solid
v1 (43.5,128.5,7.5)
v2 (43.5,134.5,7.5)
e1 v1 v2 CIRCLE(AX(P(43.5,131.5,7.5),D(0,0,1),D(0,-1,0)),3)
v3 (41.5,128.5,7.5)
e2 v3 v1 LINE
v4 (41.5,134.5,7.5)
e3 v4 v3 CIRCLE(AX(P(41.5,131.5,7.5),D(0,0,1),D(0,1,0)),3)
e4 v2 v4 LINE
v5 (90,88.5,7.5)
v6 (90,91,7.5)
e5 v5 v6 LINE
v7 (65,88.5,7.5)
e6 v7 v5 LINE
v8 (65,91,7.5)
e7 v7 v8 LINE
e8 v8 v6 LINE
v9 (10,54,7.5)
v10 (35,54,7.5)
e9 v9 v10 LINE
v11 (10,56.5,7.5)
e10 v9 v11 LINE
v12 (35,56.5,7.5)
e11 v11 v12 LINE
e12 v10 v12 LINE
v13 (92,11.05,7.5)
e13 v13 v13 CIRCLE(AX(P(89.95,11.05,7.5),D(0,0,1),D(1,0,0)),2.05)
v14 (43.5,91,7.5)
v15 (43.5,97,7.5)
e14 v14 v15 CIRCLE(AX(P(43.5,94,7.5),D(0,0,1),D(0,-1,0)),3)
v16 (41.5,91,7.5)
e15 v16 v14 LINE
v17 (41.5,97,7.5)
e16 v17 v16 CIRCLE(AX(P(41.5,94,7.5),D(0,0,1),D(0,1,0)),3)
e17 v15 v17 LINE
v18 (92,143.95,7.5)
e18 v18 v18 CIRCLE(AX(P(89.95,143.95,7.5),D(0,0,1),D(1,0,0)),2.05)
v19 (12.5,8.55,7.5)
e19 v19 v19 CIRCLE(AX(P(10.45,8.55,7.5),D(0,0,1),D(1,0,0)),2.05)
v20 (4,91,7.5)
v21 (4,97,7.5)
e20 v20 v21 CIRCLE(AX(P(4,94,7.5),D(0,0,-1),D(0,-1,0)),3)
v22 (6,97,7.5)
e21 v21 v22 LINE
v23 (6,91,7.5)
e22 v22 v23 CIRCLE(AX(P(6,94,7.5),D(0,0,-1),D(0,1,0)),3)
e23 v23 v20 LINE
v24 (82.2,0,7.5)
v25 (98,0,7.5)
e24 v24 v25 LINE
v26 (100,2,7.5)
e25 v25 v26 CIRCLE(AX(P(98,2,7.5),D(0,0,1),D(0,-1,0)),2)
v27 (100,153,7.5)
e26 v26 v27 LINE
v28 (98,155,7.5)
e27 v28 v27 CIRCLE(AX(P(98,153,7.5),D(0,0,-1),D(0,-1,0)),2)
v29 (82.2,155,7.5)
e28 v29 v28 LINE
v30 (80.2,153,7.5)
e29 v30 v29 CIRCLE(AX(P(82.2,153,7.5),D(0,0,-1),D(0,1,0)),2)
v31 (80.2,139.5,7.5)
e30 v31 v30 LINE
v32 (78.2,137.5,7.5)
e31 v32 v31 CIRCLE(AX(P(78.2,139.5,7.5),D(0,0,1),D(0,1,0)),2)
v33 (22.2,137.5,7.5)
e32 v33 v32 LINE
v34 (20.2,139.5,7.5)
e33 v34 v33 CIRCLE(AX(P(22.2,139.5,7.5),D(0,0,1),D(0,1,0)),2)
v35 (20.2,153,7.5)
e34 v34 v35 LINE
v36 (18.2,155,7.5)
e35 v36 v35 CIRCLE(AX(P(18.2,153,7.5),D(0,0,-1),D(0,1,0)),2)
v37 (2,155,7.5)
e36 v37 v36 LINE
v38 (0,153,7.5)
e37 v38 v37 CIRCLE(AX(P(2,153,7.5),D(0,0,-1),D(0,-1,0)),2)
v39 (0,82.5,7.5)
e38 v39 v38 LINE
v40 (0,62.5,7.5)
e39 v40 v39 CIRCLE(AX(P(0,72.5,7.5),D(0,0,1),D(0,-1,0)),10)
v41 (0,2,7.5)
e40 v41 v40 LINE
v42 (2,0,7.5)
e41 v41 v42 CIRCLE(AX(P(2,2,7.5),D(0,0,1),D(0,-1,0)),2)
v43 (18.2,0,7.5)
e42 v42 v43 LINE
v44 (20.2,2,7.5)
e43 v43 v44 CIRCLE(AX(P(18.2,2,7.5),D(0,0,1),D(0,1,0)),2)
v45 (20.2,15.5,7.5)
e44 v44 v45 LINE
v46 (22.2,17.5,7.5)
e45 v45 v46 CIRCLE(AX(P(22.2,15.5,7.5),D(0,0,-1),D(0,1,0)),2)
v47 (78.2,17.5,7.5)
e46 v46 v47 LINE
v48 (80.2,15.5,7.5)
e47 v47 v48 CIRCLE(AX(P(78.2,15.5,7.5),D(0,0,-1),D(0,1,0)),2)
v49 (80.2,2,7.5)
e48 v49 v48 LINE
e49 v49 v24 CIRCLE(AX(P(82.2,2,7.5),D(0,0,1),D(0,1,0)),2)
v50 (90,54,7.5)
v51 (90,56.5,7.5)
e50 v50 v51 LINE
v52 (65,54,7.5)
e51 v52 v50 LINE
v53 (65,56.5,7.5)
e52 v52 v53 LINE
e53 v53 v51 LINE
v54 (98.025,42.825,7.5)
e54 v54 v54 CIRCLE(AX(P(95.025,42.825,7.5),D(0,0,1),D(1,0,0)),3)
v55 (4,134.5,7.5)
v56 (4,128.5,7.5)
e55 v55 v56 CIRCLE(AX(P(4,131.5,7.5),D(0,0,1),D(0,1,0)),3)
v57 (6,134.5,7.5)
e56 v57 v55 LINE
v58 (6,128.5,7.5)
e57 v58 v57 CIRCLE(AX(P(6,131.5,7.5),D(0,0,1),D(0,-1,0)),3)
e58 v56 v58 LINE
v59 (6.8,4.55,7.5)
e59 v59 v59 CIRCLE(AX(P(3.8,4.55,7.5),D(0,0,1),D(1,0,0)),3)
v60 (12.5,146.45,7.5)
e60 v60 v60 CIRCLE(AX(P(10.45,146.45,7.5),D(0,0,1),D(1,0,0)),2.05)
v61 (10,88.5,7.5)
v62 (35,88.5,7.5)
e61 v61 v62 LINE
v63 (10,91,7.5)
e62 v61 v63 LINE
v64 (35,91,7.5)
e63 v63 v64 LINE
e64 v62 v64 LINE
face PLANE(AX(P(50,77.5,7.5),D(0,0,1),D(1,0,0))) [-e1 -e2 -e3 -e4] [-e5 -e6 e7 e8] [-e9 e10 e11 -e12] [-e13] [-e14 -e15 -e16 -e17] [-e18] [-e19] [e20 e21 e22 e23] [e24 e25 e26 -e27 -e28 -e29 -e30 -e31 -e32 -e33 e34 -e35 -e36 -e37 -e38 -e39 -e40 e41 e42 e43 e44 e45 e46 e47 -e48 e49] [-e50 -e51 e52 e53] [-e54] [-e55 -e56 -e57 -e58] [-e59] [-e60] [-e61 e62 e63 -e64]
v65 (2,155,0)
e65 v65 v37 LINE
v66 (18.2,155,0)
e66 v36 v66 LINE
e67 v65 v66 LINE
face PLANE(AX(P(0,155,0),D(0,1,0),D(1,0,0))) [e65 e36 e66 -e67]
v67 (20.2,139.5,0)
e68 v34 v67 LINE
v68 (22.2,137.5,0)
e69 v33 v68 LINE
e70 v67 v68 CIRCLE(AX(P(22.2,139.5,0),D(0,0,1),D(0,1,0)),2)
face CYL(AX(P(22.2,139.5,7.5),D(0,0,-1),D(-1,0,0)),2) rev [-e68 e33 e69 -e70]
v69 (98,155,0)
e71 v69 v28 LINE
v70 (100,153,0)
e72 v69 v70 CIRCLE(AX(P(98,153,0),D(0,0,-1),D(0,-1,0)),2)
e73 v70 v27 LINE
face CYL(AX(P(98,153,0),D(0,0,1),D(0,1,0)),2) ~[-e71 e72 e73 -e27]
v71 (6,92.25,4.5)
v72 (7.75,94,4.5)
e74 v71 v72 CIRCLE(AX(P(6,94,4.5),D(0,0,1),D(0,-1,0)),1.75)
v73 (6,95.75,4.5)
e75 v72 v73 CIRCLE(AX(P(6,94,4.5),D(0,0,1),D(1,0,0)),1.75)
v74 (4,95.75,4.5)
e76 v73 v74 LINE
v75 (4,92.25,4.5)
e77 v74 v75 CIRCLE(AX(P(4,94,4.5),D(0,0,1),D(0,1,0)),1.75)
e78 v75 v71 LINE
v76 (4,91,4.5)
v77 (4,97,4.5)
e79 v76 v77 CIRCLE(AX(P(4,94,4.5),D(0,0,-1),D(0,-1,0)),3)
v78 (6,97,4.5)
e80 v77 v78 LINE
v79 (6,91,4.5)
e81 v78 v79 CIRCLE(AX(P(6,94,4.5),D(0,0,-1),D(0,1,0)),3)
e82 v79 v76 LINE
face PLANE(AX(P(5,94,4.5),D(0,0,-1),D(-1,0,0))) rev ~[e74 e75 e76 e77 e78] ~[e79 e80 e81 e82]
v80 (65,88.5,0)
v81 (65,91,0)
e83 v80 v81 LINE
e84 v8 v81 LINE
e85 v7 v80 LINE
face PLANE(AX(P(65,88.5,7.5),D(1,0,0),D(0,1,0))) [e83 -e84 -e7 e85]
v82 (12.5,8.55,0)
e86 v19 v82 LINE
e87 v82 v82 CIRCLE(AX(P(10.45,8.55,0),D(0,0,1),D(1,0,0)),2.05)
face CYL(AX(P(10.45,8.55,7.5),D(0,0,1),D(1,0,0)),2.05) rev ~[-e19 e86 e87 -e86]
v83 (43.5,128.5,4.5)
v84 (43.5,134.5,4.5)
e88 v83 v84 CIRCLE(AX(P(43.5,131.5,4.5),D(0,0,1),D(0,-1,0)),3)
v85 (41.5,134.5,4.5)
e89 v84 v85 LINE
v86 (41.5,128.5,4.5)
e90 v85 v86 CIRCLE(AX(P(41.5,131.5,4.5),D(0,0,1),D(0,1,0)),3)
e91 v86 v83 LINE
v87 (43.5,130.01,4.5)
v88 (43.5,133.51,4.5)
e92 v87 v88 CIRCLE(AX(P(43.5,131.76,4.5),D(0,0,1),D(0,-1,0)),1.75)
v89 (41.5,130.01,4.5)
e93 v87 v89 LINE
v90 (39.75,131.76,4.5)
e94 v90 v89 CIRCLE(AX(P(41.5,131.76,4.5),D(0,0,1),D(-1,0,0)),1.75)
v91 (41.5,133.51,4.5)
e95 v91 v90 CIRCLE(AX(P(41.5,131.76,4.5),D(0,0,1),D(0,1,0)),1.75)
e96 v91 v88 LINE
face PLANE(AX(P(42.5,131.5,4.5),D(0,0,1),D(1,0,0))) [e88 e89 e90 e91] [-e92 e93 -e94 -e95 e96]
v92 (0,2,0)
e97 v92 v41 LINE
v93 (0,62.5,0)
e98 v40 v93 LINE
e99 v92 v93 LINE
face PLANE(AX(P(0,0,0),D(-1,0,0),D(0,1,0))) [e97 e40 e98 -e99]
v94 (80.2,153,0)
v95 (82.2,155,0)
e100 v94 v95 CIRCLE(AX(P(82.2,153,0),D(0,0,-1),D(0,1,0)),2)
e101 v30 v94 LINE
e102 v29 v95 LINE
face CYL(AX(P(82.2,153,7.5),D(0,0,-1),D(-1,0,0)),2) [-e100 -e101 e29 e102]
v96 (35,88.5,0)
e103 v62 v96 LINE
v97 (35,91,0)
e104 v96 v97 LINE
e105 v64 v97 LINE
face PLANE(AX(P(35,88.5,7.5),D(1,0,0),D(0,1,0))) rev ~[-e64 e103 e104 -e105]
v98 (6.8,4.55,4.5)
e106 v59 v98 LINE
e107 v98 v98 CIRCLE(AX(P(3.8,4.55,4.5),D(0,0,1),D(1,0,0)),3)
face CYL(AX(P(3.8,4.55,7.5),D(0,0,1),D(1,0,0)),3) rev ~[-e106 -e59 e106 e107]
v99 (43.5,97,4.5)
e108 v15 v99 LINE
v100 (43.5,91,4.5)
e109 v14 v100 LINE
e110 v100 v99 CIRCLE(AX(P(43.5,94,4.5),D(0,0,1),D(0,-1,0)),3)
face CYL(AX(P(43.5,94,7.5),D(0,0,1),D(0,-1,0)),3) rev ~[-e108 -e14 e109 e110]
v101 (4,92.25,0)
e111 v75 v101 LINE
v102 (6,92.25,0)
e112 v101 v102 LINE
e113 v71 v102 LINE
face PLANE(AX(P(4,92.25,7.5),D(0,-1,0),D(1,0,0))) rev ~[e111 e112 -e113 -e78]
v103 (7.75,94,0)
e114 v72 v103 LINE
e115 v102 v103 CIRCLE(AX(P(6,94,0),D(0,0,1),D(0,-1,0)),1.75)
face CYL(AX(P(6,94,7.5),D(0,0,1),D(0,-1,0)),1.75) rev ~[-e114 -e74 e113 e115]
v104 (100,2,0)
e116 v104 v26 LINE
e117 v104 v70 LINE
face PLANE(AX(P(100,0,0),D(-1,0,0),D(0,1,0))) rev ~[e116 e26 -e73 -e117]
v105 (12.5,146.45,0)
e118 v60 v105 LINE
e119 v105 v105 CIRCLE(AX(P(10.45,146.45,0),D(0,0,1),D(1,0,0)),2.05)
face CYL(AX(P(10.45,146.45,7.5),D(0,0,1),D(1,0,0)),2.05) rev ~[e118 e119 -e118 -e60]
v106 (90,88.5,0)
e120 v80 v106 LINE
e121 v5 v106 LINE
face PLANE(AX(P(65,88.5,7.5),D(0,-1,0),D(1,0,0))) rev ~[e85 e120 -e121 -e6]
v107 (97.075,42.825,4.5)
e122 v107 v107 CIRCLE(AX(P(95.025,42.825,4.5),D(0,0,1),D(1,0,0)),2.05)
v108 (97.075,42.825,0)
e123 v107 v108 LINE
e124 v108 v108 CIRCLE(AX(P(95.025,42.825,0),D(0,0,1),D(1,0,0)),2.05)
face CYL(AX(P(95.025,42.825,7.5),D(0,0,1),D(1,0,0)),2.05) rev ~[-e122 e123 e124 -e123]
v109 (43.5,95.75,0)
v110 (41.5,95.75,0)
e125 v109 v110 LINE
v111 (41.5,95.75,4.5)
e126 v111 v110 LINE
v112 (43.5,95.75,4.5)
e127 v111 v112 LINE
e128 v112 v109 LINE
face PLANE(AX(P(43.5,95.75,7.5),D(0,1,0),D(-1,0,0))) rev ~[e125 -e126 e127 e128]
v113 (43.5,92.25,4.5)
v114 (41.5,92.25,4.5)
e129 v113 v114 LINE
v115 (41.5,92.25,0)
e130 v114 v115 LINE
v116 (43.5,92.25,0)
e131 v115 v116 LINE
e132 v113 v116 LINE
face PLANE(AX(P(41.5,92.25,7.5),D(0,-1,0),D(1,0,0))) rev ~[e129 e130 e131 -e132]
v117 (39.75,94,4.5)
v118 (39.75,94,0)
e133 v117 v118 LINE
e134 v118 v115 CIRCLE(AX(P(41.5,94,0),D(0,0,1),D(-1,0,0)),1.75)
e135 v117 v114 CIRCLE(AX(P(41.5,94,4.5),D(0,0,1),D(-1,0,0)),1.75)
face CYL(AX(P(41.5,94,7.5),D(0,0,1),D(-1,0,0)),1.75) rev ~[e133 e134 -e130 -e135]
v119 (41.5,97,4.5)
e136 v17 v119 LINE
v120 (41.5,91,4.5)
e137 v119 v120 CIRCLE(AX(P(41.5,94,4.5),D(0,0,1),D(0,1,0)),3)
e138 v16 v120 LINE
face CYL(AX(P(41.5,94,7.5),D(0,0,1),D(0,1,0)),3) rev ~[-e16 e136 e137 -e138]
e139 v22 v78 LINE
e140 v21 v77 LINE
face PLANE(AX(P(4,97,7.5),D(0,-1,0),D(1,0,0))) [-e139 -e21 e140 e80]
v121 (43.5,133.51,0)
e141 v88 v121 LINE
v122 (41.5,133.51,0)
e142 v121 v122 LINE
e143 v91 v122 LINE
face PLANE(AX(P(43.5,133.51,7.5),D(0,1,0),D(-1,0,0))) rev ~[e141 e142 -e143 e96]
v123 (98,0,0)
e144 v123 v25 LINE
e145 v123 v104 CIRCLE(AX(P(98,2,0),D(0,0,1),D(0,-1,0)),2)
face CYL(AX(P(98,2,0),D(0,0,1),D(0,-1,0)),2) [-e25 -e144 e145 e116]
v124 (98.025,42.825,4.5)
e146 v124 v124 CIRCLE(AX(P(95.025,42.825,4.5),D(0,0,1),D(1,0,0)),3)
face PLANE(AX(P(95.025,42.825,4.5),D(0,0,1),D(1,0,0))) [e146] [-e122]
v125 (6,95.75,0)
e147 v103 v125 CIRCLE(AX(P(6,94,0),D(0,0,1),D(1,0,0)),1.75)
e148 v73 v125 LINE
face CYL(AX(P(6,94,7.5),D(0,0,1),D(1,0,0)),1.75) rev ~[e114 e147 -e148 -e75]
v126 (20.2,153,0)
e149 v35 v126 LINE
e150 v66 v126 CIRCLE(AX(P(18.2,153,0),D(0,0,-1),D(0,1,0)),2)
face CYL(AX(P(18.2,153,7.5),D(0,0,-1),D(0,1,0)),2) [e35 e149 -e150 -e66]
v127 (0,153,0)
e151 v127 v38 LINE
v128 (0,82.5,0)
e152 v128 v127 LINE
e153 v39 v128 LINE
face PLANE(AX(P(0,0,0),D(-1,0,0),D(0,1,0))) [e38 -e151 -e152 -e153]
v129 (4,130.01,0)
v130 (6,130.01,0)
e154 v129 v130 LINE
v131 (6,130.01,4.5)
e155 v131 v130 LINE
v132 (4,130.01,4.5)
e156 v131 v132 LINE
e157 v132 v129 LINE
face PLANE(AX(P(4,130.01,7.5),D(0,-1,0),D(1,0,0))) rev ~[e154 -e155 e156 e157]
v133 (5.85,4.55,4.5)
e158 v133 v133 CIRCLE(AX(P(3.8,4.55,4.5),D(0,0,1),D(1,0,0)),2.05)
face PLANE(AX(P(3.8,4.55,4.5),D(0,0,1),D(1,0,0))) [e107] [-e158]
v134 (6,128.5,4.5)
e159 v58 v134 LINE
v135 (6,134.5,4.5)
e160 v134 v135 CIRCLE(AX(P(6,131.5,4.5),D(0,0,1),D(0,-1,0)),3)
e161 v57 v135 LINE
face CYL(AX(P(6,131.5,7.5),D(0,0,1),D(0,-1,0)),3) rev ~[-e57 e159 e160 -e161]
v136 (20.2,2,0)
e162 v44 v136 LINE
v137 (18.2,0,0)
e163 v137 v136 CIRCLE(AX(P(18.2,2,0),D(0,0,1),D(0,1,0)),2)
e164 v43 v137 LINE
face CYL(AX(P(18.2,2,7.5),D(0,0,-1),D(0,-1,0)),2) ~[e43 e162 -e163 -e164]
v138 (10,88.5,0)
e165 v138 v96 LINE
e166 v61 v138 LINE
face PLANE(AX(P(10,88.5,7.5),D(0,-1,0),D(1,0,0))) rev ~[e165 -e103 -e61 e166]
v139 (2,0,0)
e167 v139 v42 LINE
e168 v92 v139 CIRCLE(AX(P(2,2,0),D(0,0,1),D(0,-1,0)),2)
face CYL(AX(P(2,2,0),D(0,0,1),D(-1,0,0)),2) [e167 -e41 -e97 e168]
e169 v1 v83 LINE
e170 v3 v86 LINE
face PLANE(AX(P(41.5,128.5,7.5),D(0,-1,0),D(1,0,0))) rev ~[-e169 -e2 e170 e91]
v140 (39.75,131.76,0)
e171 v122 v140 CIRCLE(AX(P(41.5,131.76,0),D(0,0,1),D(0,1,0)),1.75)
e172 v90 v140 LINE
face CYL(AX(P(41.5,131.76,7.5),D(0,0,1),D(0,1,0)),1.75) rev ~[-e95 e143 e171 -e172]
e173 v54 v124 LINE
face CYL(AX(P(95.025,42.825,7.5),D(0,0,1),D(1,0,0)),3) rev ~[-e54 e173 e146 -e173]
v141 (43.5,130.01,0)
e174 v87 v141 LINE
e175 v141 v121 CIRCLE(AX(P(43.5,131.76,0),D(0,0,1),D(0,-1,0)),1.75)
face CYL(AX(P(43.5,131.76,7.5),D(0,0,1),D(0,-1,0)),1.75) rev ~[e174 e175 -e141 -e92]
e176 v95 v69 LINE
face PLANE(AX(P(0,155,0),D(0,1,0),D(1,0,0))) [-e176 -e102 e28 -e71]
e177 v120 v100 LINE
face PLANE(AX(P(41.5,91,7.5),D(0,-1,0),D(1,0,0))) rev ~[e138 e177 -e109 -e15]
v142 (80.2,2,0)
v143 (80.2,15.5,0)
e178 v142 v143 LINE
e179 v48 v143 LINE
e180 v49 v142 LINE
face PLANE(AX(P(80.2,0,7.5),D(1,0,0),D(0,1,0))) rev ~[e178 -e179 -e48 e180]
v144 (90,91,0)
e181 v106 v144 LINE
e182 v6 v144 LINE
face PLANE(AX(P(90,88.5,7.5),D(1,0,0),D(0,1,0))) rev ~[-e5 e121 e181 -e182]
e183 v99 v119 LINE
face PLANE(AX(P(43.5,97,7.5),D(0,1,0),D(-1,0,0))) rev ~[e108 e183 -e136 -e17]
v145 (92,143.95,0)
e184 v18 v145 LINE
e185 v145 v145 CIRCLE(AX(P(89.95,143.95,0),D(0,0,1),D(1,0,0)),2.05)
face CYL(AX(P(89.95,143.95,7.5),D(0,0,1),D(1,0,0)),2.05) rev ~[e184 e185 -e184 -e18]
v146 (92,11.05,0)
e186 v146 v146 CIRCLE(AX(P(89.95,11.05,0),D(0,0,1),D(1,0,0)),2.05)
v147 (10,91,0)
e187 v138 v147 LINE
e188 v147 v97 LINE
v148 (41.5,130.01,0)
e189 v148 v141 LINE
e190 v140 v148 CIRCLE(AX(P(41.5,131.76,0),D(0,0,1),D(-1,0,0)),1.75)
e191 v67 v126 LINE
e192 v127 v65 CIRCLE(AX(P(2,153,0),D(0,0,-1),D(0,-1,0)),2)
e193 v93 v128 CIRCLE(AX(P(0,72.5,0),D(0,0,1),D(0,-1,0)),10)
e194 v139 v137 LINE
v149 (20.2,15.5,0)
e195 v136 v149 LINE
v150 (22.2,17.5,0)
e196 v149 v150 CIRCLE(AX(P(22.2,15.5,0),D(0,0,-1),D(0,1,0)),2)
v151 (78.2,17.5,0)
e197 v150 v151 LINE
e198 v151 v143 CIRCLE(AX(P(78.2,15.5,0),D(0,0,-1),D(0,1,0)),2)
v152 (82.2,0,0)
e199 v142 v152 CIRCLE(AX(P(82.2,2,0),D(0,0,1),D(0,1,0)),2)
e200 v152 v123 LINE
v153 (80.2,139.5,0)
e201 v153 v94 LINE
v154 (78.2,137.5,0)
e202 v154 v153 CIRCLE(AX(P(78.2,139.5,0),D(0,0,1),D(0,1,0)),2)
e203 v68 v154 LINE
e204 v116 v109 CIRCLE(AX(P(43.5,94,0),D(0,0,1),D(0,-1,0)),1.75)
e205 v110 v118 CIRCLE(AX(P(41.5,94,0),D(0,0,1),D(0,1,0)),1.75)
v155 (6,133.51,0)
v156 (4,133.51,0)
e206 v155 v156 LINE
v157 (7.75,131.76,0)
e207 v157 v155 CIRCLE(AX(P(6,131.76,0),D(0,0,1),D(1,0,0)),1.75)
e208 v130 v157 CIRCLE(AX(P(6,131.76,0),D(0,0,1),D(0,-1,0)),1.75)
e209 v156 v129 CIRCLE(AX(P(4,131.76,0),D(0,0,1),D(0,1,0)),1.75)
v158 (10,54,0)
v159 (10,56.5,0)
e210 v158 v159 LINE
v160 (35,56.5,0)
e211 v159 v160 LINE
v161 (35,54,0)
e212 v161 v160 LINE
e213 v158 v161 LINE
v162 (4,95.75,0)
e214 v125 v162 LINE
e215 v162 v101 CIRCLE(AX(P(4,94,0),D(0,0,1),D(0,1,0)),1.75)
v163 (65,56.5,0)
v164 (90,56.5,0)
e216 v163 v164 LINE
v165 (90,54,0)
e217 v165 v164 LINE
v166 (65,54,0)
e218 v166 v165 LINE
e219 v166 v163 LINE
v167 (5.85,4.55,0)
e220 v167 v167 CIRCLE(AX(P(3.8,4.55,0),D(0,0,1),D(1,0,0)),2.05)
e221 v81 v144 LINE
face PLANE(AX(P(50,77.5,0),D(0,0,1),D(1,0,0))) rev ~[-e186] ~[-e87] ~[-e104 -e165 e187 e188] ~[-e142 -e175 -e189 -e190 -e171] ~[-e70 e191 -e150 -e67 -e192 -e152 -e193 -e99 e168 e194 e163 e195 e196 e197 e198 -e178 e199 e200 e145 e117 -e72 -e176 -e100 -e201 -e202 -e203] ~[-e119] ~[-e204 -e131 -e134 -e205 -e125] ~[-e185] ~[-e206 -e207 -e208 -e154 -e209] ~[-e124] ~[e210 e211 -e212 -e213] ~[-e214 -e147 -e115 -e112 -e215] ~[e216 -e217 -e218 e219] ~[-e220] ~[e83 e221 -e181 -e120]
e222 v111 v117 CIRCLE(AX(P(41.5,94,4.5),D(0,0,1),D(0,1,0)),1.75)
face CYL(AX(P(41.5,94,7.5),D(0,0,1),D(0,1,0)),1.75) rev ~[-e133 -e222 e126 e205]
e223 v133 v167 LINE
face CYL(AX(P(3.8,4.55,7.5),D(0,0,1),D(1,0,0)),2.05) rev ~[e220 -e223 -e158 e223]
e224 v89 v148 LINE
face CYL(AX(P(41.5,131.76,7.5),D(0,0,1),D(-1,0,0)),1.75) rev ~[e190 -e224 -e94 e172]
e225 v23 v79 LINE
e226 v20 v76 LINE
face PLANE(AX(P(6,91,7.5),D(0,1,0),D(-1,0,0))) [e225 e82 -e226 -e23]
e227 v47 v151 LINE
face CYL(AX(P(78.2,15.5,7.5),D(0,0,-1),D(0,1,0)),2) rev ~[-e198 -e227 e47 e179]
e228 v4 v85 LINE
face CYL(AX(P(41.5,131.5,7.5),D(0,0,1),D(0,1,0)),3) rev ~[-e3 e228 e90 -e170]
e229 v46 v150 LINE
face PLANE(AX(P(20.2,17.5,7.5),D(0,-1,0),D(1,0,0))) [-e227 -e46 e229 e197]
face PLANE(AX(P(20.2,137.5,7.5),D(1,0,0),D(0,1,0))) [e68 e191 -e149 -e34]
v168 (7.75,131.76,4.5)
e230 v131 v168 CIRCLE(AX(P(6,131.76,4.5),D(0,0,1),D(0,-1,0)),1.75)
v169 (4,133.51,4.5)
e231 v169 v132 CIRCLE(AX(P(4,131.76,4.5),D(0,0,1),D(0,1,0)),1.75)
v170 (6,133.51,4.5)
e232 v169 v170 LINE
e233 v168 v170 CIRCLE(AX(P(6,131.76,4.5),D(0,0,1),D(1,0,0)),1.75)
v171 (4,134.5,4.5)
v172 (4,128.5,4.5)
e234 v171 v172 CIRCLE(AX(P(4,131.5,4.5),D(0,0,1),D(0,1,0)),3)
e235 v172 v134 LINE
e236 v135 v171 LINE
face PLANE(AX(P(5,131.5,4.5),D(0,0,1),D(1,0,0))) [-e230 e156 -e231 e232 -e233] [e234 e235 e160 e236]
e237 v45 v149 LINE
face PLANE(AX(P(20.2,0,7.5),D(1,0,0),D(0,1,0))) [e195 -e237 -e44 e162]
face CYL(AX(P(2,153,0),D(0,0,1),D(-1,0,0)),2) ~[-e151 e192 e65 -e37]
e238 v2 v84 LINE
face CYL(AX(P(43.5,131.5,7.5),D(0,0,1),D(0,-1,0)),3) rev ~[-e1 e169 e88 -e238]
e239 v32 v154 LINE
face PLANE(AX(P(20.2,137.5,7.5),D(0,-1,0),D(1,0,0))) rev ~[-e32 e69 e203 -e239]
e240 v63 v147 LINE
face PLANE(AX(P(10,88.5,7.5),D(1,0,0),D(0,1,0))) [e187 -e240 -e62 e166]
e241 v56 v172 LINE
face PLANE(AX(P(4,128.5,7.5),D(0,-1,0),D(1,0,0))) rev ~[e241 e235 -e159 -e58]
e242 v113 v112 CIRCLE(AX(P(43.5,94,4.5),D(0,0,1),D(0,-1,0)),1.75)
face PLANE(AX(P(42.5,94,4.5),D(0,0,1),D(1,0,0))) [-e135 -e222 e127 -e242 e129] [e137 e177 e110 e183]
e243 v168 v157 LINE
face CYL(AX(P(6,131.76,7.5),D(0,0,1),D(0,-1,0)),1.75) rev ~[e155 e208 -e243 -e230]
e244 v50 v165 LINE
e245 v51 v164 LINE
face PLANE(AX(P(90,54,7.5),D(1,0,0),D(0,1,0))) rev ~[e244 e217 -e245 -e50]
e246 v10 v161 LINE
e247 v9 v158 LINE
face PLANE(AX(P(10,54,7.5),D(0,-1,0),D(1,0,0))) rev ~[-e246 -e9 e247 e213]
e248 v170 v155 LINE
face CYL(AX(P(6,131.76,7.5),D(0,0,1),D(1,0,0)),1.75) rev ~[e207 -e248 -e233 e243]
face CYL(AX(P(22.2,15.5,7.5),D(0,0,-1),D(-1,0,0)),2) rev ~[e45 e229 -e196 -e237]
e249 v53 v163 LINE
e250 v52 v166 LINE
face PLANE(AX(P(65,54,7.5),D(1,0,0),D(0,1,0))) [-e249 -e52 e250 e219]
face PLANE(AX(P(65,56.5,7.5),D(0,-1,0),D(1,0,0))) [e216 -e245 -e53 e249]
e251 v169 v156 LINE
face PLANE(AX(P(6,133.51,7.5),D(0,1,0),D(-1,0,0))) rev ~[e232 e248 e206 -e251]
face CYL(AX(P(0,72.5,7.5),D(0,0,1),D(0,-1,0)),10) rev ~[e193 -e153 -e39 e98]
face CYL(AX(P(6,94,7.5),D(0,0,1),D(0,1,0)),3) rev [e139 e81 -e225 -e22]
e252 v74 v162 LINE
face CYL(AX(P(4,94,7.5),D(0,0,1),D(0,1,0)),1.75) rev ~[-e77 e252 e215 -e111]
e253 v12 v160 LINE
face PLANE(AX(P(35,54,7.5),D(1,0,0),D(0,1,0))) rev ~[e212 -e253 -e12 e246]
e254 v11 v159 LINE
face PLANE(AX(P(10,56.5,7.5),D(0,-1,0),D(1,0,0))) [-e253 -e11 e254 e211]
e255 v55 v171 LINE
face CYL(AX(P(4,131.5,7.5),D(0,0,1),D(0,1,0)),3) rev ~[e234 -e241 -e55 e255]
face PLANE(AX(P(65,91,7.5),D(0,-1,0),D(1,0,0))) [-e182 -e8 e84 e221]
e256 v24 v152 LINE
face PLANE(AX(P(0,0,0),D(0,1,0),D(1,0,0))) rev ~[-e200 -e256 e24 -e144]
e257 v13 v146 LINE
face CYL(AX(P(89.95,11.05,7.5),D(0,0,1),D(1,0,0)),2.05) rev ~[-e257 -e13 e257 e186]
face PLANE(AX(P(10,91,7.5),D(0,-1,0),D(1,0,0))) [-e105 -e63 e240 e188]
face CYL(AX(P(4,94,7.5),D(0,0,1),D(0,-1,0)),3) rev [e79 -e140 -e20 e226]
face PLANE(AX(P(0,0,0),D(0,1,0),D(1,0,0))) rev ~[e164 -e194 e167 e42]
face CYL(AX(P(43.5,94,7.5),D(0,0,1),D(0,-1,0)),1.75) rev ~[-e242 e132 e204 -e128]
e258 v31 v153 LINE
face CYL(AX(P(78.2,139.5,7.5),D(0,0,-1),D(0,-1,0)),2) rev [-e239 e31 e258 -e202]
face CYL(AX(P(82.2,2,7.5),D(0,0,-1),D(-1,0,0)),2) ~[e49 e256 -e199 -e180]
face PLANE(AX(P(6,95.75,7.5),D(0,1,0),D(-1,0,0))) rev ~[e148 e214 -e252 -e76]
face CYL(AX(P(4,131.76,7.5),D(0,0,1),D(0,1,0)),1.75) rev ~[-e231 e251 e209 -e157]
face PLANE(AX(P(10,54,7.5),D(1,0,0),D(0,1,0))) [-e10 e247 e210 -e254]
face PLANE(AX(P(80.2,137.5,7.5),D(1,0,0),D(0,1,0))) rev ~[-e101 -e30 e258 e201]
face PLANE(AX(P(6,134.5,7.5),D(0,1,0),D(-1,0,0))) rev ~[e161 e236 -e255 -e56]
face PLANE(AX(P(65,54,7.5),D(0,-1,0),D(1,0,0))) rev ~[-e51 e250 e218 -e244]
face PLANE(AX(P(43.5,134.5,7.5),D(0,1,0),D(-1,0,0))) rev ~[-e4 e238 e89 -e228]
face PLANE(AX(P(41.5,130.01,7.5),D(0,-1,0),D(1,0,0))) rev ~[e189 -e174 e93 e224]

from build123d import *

# Parameters (mm, degrees)
SKETCH1_W                 = 100
SKETCH1_H                 = 155
BOSS_EXTRUDE1_DEPTH       = 7.5
SKETCH2_R                 = 2.05
SKETCH2_W                 = 60
SKETCH2_H                 = 17.5
HOLE_CUTOUTS_DEPTH        = 8.5
SKETCH3_W                 = 25
SKETCH3_H                 = 2.5
BATTERY_STRAP_HOLES_DEPTH = 8.5
H_BRIDGE_HOLES_DEPTH      = 7.5
FILLET1_R                 = 2
CAMERA_WIRE_HOLE_DEPTH    = 8.5
SKETCH10_R                = 2.05
CUT_EXTRUDE1_DEPTH        = 7.5
SKETCH11_R                = 3
CUT_EXTRUDE2_DEPTH        = 3


with BuildPart() as part:
    # Sketch1 → Boss-Extrude1 (new body)
    with BuildSketch(Plane.XY):
        with Locations((50, 77.5)):
            Rectangle(SKETCH1_W, SKETCH1_H)
    extrude(amount=BOSS_EXTRUDE1_DEPTH)

    # Sketch2 → Hole cutouts (cut, through all)
    with BuildSketch(Plane.XY.offset(7.5)):
        with Locations((10.45, 146.45)):
            Circle(SKETCH2_R)
        with Locations((89.95, 143.95)):
            Circle(SKETCH2_R)
        with Locations((89.95, 11.05)):
            Circle(SKETCH2_R)
        with Locations((10.45, 8.55)):
            Circle(SKETCH2_R)
        with Locations((50.2, 146.25)):
            Rectangle(SKETCH2_W, SKETCH2_H)
        with Locations((50.2, 8.75)):
            Rectangle(SKETCH2_W, SKETCH2_H)
    extrude(amount=-HOLE_CUTOUTS_DEPTH, mode=Mode.SUBTRACT)

    # Sketch3 → Battery strap holes (cut, through all)
    with BuildSketch(Plane.XY.offset(7.5)):
        with Locations((22.5, 89.75)):
            Rectangle(SKETCH3_W, SKETCH3_H)
        with Locations((77.5, 89.75)):
            Rectangle(SKETCH3_W, SKETCH3_H)
        with Locations((22.5, 55.25)):
            Rectangle(SKETCH3_W, SKETCH3_H)
        with Locations((77.5, 55.25)):
            Rectangle(SKETCH3_W, SKETCH3_H)
    extrude(amount=-BATTERY_STRAP_HOLES_DEPTH, mode=Mode.SUBTRACT)

    # Sketch4 → H-Bridge Holes (cut)
    with BuildSketch(Plane.XY.offset(7.5)):
        with BuildLine():
            Line((6, 133.51), (4, 133.51))
            ThreePointArc((4, 133.51), (2.25, 131.76), (4, 130.01))
            Line((4, 130.01), (5, 130.01))
            Line((5, 130.01), (5, 131.76))
            Line((5, 131.76), (7.75, 131.76))
            ThreePointArc((7.75, 131.76), (7.237436867, 132.997436867), (6, 133.51))
        make_face()
        with BuildLine():
            ThreePointArc((6, 130.01), (7.237436867, 130.522563133), (7.75, 131.76))
            Line((7.75, 131.76), (5, 131.76))
            Line((5, 131.76), (5, 130.01))
            Line((5, 130.01), (6, 130.01))
        make_face()
        with BuildLine():
            Line((42.5, 131.76), (39.75, 131.76))
            ThreePointArc((39.75, 131.76), (40.262563133, 130.522563133), (41.5, 130.01))
            Line((41.5, 130.01), (42.5, 130.01))
            Line((42.5, 130.01), (42.5, 131.76))
        make_face()
        with BuildLine():
            ThreePointArc((41.5, 133.51), (40.262563133, 132.997436867), (39.75, 131.76))
            Line((39.75, 131.76), (42.5, 131.76))
            Line((42.5, 131.76), (42.5, 130.01))
            Line((42.5, 130.01), (43.5, 130.01))
            ThreePointArc((43.5, 130.01), (45.25, 131.76), (43.5, 133.51))
            Line((43.5, 133.51), (41.5, 133.51))
        make_face()
        with BuildLine():
            Line((5, 94), (5, 95.75))
            Line((5, 95.75), (4, 95.75))
            ThreePointArc((4, 95.75), (2.25, 94), (4, 92.25))
            Line((4, 92.25), (6, 92.25))
            ThreePointArc((6, 92.25), (7.237436867, 92.762563133), (7.75, 94))
            Line((7.75, 94), (5, 94))
        make_face()
        with BuildLine():
            Line((6, 95.75), (5, 95.75))
            Line((5, 95.75), (5, 94))
            Line((5, 94), (7.75, 94))
            ThreePointArc((7.75, 94), (7.237436867, 95.237436867), (6, 95.75))
        make_face()
        with BuildLine():
            Line((43.5, 95.75), (42.5, 95.75))
            Line((42.5, 95.75), (42.5, 94))
            Line((42.5, 94), (39.75, 94))
            ThreePointArc((39.75, 94), (40.262563133, 92.762563133), (41.5, 92.25))
            Line((41.5, 92.25), (43.5, 92.25))
            ThreePointArc((43.5, 92.25), (45.25, 94), (43.5, 95.75))
        make_face()
        with BuildLine():
            Line((42.5, 94), (42.5, 95.75))
            Line((42.5, 95.75), (41.5, 95.75))
            ThreePointArc((41.5, 95.75), (40.262563133, 95.237436867), (39.75, 94))
            Line((39.75, 94), (42.5, 94))
        make_face()
    extrude(amount=-H_BRIDGE_HOLES_DEPTH, mode=Mode.SUBTRACT)

    # Fillet1
    fillet1_edges = [part.edges().sort_by_distance(p)[0] for p in [
        (20.2, 0, 3.75),
        (20.2, 17.5, 3.75),
        (80.2, 17.5, 3.75),
        (80.2, 0, 3.75),
        (20.2, 137.5, 3.75),
        (20.2, 155, 3.75),
        (80.2, 155, 3.75),
        (80.2, 137.5, 3.75),
        (0, 155, 3.75),
        (100, 155, 3.75),
        (100, 0, 3.75),
        (0, 0, 3.75),
    ]]
    fillet(fillet1_edges, radius=FILLET1_R)

    # Sketch9 → Camera Wire Hole (cut, through all)
    with BuildSketch(Plane.XY.offset(7.5)):
        with BuildLine():
            Line((0, 82.5), (0, 62.5))
            ThreePointArc((0, 62.5), (10, 72.5), (0, 82.5))
        make_face()
    extrude(amount=-CAMERA_WIRE_HOLE_DEPTH, mode=Mode.SUBTRACT)

    # Sketch10 → Cut-Extrude1 (cut)
    with BuildSketch(Plane.XY.offset(7.5)):
        with Locations((3.8, 4.55)):
            Circle(SKETCH10_R)
        with Locations((95.025, 42.825)):
            Circle(SKETCH10_R)
    extrude(amount=-CUT_EXTRUDE1_DEPTH, mode=Mode.SUBTRACT)

    # Sketch11 → Cut-Extrude2 (cut)
    with BuildSketch(Plane.XY.offset(7.5)):
        with Locations((3.8, 4.55)):
            Circle(SKETCH11_R)
        with Locations((95.025, 42.825)):
            Circle(SKETCH11_R)
        with BuildLine():
            Line((4, 97), (6, 97))
            ThreePointArc((6, 97), (9, 94), (6, 91))
            Line((6, 91), (4, 91))
            ThreePointArc((4, 91), (1, 94), (4, 97))
        make_face()
        with BuildLine():
            Line((41.5, 91), (43.5, 91))
            ThreePointArc((43.5, 91), (46.5, 94), (43.5, 97))
            Line((43.5, 97), (41.5, 97))
            ThreePointArc((41.5, 97), (38.5, 94), (41.5, 91))
        make_face()
        with BuildLine():
            Line((41.5, 128.5), (43.5, 128.5))
            ThreePointArc((43.5, 128.5), (46.5, 131.5), (43.5, 134.5))
            Line((43.5, 134.5), (41.5, 134.5))
            ThreePointArc((41.5, 134.5), (38.5, 131.5), (41.5, 128.5))
        make_face()
        with BuildLine():
            Line((4, 128.5), (6, 128.5))
            ThreePointArc((6, 128.5), (9, 131.5), (6, 134.5))
            Line((6, 134.5), (4, 134.5))
            ThreePointArc((4, 134.5), (1, 131.5), (4, 128.5))
        make_face()
    extrude(amount=-CUT_EXTRUDE2_DEPTH, mode=Mode.SUBTRACT)


solid = part.part
